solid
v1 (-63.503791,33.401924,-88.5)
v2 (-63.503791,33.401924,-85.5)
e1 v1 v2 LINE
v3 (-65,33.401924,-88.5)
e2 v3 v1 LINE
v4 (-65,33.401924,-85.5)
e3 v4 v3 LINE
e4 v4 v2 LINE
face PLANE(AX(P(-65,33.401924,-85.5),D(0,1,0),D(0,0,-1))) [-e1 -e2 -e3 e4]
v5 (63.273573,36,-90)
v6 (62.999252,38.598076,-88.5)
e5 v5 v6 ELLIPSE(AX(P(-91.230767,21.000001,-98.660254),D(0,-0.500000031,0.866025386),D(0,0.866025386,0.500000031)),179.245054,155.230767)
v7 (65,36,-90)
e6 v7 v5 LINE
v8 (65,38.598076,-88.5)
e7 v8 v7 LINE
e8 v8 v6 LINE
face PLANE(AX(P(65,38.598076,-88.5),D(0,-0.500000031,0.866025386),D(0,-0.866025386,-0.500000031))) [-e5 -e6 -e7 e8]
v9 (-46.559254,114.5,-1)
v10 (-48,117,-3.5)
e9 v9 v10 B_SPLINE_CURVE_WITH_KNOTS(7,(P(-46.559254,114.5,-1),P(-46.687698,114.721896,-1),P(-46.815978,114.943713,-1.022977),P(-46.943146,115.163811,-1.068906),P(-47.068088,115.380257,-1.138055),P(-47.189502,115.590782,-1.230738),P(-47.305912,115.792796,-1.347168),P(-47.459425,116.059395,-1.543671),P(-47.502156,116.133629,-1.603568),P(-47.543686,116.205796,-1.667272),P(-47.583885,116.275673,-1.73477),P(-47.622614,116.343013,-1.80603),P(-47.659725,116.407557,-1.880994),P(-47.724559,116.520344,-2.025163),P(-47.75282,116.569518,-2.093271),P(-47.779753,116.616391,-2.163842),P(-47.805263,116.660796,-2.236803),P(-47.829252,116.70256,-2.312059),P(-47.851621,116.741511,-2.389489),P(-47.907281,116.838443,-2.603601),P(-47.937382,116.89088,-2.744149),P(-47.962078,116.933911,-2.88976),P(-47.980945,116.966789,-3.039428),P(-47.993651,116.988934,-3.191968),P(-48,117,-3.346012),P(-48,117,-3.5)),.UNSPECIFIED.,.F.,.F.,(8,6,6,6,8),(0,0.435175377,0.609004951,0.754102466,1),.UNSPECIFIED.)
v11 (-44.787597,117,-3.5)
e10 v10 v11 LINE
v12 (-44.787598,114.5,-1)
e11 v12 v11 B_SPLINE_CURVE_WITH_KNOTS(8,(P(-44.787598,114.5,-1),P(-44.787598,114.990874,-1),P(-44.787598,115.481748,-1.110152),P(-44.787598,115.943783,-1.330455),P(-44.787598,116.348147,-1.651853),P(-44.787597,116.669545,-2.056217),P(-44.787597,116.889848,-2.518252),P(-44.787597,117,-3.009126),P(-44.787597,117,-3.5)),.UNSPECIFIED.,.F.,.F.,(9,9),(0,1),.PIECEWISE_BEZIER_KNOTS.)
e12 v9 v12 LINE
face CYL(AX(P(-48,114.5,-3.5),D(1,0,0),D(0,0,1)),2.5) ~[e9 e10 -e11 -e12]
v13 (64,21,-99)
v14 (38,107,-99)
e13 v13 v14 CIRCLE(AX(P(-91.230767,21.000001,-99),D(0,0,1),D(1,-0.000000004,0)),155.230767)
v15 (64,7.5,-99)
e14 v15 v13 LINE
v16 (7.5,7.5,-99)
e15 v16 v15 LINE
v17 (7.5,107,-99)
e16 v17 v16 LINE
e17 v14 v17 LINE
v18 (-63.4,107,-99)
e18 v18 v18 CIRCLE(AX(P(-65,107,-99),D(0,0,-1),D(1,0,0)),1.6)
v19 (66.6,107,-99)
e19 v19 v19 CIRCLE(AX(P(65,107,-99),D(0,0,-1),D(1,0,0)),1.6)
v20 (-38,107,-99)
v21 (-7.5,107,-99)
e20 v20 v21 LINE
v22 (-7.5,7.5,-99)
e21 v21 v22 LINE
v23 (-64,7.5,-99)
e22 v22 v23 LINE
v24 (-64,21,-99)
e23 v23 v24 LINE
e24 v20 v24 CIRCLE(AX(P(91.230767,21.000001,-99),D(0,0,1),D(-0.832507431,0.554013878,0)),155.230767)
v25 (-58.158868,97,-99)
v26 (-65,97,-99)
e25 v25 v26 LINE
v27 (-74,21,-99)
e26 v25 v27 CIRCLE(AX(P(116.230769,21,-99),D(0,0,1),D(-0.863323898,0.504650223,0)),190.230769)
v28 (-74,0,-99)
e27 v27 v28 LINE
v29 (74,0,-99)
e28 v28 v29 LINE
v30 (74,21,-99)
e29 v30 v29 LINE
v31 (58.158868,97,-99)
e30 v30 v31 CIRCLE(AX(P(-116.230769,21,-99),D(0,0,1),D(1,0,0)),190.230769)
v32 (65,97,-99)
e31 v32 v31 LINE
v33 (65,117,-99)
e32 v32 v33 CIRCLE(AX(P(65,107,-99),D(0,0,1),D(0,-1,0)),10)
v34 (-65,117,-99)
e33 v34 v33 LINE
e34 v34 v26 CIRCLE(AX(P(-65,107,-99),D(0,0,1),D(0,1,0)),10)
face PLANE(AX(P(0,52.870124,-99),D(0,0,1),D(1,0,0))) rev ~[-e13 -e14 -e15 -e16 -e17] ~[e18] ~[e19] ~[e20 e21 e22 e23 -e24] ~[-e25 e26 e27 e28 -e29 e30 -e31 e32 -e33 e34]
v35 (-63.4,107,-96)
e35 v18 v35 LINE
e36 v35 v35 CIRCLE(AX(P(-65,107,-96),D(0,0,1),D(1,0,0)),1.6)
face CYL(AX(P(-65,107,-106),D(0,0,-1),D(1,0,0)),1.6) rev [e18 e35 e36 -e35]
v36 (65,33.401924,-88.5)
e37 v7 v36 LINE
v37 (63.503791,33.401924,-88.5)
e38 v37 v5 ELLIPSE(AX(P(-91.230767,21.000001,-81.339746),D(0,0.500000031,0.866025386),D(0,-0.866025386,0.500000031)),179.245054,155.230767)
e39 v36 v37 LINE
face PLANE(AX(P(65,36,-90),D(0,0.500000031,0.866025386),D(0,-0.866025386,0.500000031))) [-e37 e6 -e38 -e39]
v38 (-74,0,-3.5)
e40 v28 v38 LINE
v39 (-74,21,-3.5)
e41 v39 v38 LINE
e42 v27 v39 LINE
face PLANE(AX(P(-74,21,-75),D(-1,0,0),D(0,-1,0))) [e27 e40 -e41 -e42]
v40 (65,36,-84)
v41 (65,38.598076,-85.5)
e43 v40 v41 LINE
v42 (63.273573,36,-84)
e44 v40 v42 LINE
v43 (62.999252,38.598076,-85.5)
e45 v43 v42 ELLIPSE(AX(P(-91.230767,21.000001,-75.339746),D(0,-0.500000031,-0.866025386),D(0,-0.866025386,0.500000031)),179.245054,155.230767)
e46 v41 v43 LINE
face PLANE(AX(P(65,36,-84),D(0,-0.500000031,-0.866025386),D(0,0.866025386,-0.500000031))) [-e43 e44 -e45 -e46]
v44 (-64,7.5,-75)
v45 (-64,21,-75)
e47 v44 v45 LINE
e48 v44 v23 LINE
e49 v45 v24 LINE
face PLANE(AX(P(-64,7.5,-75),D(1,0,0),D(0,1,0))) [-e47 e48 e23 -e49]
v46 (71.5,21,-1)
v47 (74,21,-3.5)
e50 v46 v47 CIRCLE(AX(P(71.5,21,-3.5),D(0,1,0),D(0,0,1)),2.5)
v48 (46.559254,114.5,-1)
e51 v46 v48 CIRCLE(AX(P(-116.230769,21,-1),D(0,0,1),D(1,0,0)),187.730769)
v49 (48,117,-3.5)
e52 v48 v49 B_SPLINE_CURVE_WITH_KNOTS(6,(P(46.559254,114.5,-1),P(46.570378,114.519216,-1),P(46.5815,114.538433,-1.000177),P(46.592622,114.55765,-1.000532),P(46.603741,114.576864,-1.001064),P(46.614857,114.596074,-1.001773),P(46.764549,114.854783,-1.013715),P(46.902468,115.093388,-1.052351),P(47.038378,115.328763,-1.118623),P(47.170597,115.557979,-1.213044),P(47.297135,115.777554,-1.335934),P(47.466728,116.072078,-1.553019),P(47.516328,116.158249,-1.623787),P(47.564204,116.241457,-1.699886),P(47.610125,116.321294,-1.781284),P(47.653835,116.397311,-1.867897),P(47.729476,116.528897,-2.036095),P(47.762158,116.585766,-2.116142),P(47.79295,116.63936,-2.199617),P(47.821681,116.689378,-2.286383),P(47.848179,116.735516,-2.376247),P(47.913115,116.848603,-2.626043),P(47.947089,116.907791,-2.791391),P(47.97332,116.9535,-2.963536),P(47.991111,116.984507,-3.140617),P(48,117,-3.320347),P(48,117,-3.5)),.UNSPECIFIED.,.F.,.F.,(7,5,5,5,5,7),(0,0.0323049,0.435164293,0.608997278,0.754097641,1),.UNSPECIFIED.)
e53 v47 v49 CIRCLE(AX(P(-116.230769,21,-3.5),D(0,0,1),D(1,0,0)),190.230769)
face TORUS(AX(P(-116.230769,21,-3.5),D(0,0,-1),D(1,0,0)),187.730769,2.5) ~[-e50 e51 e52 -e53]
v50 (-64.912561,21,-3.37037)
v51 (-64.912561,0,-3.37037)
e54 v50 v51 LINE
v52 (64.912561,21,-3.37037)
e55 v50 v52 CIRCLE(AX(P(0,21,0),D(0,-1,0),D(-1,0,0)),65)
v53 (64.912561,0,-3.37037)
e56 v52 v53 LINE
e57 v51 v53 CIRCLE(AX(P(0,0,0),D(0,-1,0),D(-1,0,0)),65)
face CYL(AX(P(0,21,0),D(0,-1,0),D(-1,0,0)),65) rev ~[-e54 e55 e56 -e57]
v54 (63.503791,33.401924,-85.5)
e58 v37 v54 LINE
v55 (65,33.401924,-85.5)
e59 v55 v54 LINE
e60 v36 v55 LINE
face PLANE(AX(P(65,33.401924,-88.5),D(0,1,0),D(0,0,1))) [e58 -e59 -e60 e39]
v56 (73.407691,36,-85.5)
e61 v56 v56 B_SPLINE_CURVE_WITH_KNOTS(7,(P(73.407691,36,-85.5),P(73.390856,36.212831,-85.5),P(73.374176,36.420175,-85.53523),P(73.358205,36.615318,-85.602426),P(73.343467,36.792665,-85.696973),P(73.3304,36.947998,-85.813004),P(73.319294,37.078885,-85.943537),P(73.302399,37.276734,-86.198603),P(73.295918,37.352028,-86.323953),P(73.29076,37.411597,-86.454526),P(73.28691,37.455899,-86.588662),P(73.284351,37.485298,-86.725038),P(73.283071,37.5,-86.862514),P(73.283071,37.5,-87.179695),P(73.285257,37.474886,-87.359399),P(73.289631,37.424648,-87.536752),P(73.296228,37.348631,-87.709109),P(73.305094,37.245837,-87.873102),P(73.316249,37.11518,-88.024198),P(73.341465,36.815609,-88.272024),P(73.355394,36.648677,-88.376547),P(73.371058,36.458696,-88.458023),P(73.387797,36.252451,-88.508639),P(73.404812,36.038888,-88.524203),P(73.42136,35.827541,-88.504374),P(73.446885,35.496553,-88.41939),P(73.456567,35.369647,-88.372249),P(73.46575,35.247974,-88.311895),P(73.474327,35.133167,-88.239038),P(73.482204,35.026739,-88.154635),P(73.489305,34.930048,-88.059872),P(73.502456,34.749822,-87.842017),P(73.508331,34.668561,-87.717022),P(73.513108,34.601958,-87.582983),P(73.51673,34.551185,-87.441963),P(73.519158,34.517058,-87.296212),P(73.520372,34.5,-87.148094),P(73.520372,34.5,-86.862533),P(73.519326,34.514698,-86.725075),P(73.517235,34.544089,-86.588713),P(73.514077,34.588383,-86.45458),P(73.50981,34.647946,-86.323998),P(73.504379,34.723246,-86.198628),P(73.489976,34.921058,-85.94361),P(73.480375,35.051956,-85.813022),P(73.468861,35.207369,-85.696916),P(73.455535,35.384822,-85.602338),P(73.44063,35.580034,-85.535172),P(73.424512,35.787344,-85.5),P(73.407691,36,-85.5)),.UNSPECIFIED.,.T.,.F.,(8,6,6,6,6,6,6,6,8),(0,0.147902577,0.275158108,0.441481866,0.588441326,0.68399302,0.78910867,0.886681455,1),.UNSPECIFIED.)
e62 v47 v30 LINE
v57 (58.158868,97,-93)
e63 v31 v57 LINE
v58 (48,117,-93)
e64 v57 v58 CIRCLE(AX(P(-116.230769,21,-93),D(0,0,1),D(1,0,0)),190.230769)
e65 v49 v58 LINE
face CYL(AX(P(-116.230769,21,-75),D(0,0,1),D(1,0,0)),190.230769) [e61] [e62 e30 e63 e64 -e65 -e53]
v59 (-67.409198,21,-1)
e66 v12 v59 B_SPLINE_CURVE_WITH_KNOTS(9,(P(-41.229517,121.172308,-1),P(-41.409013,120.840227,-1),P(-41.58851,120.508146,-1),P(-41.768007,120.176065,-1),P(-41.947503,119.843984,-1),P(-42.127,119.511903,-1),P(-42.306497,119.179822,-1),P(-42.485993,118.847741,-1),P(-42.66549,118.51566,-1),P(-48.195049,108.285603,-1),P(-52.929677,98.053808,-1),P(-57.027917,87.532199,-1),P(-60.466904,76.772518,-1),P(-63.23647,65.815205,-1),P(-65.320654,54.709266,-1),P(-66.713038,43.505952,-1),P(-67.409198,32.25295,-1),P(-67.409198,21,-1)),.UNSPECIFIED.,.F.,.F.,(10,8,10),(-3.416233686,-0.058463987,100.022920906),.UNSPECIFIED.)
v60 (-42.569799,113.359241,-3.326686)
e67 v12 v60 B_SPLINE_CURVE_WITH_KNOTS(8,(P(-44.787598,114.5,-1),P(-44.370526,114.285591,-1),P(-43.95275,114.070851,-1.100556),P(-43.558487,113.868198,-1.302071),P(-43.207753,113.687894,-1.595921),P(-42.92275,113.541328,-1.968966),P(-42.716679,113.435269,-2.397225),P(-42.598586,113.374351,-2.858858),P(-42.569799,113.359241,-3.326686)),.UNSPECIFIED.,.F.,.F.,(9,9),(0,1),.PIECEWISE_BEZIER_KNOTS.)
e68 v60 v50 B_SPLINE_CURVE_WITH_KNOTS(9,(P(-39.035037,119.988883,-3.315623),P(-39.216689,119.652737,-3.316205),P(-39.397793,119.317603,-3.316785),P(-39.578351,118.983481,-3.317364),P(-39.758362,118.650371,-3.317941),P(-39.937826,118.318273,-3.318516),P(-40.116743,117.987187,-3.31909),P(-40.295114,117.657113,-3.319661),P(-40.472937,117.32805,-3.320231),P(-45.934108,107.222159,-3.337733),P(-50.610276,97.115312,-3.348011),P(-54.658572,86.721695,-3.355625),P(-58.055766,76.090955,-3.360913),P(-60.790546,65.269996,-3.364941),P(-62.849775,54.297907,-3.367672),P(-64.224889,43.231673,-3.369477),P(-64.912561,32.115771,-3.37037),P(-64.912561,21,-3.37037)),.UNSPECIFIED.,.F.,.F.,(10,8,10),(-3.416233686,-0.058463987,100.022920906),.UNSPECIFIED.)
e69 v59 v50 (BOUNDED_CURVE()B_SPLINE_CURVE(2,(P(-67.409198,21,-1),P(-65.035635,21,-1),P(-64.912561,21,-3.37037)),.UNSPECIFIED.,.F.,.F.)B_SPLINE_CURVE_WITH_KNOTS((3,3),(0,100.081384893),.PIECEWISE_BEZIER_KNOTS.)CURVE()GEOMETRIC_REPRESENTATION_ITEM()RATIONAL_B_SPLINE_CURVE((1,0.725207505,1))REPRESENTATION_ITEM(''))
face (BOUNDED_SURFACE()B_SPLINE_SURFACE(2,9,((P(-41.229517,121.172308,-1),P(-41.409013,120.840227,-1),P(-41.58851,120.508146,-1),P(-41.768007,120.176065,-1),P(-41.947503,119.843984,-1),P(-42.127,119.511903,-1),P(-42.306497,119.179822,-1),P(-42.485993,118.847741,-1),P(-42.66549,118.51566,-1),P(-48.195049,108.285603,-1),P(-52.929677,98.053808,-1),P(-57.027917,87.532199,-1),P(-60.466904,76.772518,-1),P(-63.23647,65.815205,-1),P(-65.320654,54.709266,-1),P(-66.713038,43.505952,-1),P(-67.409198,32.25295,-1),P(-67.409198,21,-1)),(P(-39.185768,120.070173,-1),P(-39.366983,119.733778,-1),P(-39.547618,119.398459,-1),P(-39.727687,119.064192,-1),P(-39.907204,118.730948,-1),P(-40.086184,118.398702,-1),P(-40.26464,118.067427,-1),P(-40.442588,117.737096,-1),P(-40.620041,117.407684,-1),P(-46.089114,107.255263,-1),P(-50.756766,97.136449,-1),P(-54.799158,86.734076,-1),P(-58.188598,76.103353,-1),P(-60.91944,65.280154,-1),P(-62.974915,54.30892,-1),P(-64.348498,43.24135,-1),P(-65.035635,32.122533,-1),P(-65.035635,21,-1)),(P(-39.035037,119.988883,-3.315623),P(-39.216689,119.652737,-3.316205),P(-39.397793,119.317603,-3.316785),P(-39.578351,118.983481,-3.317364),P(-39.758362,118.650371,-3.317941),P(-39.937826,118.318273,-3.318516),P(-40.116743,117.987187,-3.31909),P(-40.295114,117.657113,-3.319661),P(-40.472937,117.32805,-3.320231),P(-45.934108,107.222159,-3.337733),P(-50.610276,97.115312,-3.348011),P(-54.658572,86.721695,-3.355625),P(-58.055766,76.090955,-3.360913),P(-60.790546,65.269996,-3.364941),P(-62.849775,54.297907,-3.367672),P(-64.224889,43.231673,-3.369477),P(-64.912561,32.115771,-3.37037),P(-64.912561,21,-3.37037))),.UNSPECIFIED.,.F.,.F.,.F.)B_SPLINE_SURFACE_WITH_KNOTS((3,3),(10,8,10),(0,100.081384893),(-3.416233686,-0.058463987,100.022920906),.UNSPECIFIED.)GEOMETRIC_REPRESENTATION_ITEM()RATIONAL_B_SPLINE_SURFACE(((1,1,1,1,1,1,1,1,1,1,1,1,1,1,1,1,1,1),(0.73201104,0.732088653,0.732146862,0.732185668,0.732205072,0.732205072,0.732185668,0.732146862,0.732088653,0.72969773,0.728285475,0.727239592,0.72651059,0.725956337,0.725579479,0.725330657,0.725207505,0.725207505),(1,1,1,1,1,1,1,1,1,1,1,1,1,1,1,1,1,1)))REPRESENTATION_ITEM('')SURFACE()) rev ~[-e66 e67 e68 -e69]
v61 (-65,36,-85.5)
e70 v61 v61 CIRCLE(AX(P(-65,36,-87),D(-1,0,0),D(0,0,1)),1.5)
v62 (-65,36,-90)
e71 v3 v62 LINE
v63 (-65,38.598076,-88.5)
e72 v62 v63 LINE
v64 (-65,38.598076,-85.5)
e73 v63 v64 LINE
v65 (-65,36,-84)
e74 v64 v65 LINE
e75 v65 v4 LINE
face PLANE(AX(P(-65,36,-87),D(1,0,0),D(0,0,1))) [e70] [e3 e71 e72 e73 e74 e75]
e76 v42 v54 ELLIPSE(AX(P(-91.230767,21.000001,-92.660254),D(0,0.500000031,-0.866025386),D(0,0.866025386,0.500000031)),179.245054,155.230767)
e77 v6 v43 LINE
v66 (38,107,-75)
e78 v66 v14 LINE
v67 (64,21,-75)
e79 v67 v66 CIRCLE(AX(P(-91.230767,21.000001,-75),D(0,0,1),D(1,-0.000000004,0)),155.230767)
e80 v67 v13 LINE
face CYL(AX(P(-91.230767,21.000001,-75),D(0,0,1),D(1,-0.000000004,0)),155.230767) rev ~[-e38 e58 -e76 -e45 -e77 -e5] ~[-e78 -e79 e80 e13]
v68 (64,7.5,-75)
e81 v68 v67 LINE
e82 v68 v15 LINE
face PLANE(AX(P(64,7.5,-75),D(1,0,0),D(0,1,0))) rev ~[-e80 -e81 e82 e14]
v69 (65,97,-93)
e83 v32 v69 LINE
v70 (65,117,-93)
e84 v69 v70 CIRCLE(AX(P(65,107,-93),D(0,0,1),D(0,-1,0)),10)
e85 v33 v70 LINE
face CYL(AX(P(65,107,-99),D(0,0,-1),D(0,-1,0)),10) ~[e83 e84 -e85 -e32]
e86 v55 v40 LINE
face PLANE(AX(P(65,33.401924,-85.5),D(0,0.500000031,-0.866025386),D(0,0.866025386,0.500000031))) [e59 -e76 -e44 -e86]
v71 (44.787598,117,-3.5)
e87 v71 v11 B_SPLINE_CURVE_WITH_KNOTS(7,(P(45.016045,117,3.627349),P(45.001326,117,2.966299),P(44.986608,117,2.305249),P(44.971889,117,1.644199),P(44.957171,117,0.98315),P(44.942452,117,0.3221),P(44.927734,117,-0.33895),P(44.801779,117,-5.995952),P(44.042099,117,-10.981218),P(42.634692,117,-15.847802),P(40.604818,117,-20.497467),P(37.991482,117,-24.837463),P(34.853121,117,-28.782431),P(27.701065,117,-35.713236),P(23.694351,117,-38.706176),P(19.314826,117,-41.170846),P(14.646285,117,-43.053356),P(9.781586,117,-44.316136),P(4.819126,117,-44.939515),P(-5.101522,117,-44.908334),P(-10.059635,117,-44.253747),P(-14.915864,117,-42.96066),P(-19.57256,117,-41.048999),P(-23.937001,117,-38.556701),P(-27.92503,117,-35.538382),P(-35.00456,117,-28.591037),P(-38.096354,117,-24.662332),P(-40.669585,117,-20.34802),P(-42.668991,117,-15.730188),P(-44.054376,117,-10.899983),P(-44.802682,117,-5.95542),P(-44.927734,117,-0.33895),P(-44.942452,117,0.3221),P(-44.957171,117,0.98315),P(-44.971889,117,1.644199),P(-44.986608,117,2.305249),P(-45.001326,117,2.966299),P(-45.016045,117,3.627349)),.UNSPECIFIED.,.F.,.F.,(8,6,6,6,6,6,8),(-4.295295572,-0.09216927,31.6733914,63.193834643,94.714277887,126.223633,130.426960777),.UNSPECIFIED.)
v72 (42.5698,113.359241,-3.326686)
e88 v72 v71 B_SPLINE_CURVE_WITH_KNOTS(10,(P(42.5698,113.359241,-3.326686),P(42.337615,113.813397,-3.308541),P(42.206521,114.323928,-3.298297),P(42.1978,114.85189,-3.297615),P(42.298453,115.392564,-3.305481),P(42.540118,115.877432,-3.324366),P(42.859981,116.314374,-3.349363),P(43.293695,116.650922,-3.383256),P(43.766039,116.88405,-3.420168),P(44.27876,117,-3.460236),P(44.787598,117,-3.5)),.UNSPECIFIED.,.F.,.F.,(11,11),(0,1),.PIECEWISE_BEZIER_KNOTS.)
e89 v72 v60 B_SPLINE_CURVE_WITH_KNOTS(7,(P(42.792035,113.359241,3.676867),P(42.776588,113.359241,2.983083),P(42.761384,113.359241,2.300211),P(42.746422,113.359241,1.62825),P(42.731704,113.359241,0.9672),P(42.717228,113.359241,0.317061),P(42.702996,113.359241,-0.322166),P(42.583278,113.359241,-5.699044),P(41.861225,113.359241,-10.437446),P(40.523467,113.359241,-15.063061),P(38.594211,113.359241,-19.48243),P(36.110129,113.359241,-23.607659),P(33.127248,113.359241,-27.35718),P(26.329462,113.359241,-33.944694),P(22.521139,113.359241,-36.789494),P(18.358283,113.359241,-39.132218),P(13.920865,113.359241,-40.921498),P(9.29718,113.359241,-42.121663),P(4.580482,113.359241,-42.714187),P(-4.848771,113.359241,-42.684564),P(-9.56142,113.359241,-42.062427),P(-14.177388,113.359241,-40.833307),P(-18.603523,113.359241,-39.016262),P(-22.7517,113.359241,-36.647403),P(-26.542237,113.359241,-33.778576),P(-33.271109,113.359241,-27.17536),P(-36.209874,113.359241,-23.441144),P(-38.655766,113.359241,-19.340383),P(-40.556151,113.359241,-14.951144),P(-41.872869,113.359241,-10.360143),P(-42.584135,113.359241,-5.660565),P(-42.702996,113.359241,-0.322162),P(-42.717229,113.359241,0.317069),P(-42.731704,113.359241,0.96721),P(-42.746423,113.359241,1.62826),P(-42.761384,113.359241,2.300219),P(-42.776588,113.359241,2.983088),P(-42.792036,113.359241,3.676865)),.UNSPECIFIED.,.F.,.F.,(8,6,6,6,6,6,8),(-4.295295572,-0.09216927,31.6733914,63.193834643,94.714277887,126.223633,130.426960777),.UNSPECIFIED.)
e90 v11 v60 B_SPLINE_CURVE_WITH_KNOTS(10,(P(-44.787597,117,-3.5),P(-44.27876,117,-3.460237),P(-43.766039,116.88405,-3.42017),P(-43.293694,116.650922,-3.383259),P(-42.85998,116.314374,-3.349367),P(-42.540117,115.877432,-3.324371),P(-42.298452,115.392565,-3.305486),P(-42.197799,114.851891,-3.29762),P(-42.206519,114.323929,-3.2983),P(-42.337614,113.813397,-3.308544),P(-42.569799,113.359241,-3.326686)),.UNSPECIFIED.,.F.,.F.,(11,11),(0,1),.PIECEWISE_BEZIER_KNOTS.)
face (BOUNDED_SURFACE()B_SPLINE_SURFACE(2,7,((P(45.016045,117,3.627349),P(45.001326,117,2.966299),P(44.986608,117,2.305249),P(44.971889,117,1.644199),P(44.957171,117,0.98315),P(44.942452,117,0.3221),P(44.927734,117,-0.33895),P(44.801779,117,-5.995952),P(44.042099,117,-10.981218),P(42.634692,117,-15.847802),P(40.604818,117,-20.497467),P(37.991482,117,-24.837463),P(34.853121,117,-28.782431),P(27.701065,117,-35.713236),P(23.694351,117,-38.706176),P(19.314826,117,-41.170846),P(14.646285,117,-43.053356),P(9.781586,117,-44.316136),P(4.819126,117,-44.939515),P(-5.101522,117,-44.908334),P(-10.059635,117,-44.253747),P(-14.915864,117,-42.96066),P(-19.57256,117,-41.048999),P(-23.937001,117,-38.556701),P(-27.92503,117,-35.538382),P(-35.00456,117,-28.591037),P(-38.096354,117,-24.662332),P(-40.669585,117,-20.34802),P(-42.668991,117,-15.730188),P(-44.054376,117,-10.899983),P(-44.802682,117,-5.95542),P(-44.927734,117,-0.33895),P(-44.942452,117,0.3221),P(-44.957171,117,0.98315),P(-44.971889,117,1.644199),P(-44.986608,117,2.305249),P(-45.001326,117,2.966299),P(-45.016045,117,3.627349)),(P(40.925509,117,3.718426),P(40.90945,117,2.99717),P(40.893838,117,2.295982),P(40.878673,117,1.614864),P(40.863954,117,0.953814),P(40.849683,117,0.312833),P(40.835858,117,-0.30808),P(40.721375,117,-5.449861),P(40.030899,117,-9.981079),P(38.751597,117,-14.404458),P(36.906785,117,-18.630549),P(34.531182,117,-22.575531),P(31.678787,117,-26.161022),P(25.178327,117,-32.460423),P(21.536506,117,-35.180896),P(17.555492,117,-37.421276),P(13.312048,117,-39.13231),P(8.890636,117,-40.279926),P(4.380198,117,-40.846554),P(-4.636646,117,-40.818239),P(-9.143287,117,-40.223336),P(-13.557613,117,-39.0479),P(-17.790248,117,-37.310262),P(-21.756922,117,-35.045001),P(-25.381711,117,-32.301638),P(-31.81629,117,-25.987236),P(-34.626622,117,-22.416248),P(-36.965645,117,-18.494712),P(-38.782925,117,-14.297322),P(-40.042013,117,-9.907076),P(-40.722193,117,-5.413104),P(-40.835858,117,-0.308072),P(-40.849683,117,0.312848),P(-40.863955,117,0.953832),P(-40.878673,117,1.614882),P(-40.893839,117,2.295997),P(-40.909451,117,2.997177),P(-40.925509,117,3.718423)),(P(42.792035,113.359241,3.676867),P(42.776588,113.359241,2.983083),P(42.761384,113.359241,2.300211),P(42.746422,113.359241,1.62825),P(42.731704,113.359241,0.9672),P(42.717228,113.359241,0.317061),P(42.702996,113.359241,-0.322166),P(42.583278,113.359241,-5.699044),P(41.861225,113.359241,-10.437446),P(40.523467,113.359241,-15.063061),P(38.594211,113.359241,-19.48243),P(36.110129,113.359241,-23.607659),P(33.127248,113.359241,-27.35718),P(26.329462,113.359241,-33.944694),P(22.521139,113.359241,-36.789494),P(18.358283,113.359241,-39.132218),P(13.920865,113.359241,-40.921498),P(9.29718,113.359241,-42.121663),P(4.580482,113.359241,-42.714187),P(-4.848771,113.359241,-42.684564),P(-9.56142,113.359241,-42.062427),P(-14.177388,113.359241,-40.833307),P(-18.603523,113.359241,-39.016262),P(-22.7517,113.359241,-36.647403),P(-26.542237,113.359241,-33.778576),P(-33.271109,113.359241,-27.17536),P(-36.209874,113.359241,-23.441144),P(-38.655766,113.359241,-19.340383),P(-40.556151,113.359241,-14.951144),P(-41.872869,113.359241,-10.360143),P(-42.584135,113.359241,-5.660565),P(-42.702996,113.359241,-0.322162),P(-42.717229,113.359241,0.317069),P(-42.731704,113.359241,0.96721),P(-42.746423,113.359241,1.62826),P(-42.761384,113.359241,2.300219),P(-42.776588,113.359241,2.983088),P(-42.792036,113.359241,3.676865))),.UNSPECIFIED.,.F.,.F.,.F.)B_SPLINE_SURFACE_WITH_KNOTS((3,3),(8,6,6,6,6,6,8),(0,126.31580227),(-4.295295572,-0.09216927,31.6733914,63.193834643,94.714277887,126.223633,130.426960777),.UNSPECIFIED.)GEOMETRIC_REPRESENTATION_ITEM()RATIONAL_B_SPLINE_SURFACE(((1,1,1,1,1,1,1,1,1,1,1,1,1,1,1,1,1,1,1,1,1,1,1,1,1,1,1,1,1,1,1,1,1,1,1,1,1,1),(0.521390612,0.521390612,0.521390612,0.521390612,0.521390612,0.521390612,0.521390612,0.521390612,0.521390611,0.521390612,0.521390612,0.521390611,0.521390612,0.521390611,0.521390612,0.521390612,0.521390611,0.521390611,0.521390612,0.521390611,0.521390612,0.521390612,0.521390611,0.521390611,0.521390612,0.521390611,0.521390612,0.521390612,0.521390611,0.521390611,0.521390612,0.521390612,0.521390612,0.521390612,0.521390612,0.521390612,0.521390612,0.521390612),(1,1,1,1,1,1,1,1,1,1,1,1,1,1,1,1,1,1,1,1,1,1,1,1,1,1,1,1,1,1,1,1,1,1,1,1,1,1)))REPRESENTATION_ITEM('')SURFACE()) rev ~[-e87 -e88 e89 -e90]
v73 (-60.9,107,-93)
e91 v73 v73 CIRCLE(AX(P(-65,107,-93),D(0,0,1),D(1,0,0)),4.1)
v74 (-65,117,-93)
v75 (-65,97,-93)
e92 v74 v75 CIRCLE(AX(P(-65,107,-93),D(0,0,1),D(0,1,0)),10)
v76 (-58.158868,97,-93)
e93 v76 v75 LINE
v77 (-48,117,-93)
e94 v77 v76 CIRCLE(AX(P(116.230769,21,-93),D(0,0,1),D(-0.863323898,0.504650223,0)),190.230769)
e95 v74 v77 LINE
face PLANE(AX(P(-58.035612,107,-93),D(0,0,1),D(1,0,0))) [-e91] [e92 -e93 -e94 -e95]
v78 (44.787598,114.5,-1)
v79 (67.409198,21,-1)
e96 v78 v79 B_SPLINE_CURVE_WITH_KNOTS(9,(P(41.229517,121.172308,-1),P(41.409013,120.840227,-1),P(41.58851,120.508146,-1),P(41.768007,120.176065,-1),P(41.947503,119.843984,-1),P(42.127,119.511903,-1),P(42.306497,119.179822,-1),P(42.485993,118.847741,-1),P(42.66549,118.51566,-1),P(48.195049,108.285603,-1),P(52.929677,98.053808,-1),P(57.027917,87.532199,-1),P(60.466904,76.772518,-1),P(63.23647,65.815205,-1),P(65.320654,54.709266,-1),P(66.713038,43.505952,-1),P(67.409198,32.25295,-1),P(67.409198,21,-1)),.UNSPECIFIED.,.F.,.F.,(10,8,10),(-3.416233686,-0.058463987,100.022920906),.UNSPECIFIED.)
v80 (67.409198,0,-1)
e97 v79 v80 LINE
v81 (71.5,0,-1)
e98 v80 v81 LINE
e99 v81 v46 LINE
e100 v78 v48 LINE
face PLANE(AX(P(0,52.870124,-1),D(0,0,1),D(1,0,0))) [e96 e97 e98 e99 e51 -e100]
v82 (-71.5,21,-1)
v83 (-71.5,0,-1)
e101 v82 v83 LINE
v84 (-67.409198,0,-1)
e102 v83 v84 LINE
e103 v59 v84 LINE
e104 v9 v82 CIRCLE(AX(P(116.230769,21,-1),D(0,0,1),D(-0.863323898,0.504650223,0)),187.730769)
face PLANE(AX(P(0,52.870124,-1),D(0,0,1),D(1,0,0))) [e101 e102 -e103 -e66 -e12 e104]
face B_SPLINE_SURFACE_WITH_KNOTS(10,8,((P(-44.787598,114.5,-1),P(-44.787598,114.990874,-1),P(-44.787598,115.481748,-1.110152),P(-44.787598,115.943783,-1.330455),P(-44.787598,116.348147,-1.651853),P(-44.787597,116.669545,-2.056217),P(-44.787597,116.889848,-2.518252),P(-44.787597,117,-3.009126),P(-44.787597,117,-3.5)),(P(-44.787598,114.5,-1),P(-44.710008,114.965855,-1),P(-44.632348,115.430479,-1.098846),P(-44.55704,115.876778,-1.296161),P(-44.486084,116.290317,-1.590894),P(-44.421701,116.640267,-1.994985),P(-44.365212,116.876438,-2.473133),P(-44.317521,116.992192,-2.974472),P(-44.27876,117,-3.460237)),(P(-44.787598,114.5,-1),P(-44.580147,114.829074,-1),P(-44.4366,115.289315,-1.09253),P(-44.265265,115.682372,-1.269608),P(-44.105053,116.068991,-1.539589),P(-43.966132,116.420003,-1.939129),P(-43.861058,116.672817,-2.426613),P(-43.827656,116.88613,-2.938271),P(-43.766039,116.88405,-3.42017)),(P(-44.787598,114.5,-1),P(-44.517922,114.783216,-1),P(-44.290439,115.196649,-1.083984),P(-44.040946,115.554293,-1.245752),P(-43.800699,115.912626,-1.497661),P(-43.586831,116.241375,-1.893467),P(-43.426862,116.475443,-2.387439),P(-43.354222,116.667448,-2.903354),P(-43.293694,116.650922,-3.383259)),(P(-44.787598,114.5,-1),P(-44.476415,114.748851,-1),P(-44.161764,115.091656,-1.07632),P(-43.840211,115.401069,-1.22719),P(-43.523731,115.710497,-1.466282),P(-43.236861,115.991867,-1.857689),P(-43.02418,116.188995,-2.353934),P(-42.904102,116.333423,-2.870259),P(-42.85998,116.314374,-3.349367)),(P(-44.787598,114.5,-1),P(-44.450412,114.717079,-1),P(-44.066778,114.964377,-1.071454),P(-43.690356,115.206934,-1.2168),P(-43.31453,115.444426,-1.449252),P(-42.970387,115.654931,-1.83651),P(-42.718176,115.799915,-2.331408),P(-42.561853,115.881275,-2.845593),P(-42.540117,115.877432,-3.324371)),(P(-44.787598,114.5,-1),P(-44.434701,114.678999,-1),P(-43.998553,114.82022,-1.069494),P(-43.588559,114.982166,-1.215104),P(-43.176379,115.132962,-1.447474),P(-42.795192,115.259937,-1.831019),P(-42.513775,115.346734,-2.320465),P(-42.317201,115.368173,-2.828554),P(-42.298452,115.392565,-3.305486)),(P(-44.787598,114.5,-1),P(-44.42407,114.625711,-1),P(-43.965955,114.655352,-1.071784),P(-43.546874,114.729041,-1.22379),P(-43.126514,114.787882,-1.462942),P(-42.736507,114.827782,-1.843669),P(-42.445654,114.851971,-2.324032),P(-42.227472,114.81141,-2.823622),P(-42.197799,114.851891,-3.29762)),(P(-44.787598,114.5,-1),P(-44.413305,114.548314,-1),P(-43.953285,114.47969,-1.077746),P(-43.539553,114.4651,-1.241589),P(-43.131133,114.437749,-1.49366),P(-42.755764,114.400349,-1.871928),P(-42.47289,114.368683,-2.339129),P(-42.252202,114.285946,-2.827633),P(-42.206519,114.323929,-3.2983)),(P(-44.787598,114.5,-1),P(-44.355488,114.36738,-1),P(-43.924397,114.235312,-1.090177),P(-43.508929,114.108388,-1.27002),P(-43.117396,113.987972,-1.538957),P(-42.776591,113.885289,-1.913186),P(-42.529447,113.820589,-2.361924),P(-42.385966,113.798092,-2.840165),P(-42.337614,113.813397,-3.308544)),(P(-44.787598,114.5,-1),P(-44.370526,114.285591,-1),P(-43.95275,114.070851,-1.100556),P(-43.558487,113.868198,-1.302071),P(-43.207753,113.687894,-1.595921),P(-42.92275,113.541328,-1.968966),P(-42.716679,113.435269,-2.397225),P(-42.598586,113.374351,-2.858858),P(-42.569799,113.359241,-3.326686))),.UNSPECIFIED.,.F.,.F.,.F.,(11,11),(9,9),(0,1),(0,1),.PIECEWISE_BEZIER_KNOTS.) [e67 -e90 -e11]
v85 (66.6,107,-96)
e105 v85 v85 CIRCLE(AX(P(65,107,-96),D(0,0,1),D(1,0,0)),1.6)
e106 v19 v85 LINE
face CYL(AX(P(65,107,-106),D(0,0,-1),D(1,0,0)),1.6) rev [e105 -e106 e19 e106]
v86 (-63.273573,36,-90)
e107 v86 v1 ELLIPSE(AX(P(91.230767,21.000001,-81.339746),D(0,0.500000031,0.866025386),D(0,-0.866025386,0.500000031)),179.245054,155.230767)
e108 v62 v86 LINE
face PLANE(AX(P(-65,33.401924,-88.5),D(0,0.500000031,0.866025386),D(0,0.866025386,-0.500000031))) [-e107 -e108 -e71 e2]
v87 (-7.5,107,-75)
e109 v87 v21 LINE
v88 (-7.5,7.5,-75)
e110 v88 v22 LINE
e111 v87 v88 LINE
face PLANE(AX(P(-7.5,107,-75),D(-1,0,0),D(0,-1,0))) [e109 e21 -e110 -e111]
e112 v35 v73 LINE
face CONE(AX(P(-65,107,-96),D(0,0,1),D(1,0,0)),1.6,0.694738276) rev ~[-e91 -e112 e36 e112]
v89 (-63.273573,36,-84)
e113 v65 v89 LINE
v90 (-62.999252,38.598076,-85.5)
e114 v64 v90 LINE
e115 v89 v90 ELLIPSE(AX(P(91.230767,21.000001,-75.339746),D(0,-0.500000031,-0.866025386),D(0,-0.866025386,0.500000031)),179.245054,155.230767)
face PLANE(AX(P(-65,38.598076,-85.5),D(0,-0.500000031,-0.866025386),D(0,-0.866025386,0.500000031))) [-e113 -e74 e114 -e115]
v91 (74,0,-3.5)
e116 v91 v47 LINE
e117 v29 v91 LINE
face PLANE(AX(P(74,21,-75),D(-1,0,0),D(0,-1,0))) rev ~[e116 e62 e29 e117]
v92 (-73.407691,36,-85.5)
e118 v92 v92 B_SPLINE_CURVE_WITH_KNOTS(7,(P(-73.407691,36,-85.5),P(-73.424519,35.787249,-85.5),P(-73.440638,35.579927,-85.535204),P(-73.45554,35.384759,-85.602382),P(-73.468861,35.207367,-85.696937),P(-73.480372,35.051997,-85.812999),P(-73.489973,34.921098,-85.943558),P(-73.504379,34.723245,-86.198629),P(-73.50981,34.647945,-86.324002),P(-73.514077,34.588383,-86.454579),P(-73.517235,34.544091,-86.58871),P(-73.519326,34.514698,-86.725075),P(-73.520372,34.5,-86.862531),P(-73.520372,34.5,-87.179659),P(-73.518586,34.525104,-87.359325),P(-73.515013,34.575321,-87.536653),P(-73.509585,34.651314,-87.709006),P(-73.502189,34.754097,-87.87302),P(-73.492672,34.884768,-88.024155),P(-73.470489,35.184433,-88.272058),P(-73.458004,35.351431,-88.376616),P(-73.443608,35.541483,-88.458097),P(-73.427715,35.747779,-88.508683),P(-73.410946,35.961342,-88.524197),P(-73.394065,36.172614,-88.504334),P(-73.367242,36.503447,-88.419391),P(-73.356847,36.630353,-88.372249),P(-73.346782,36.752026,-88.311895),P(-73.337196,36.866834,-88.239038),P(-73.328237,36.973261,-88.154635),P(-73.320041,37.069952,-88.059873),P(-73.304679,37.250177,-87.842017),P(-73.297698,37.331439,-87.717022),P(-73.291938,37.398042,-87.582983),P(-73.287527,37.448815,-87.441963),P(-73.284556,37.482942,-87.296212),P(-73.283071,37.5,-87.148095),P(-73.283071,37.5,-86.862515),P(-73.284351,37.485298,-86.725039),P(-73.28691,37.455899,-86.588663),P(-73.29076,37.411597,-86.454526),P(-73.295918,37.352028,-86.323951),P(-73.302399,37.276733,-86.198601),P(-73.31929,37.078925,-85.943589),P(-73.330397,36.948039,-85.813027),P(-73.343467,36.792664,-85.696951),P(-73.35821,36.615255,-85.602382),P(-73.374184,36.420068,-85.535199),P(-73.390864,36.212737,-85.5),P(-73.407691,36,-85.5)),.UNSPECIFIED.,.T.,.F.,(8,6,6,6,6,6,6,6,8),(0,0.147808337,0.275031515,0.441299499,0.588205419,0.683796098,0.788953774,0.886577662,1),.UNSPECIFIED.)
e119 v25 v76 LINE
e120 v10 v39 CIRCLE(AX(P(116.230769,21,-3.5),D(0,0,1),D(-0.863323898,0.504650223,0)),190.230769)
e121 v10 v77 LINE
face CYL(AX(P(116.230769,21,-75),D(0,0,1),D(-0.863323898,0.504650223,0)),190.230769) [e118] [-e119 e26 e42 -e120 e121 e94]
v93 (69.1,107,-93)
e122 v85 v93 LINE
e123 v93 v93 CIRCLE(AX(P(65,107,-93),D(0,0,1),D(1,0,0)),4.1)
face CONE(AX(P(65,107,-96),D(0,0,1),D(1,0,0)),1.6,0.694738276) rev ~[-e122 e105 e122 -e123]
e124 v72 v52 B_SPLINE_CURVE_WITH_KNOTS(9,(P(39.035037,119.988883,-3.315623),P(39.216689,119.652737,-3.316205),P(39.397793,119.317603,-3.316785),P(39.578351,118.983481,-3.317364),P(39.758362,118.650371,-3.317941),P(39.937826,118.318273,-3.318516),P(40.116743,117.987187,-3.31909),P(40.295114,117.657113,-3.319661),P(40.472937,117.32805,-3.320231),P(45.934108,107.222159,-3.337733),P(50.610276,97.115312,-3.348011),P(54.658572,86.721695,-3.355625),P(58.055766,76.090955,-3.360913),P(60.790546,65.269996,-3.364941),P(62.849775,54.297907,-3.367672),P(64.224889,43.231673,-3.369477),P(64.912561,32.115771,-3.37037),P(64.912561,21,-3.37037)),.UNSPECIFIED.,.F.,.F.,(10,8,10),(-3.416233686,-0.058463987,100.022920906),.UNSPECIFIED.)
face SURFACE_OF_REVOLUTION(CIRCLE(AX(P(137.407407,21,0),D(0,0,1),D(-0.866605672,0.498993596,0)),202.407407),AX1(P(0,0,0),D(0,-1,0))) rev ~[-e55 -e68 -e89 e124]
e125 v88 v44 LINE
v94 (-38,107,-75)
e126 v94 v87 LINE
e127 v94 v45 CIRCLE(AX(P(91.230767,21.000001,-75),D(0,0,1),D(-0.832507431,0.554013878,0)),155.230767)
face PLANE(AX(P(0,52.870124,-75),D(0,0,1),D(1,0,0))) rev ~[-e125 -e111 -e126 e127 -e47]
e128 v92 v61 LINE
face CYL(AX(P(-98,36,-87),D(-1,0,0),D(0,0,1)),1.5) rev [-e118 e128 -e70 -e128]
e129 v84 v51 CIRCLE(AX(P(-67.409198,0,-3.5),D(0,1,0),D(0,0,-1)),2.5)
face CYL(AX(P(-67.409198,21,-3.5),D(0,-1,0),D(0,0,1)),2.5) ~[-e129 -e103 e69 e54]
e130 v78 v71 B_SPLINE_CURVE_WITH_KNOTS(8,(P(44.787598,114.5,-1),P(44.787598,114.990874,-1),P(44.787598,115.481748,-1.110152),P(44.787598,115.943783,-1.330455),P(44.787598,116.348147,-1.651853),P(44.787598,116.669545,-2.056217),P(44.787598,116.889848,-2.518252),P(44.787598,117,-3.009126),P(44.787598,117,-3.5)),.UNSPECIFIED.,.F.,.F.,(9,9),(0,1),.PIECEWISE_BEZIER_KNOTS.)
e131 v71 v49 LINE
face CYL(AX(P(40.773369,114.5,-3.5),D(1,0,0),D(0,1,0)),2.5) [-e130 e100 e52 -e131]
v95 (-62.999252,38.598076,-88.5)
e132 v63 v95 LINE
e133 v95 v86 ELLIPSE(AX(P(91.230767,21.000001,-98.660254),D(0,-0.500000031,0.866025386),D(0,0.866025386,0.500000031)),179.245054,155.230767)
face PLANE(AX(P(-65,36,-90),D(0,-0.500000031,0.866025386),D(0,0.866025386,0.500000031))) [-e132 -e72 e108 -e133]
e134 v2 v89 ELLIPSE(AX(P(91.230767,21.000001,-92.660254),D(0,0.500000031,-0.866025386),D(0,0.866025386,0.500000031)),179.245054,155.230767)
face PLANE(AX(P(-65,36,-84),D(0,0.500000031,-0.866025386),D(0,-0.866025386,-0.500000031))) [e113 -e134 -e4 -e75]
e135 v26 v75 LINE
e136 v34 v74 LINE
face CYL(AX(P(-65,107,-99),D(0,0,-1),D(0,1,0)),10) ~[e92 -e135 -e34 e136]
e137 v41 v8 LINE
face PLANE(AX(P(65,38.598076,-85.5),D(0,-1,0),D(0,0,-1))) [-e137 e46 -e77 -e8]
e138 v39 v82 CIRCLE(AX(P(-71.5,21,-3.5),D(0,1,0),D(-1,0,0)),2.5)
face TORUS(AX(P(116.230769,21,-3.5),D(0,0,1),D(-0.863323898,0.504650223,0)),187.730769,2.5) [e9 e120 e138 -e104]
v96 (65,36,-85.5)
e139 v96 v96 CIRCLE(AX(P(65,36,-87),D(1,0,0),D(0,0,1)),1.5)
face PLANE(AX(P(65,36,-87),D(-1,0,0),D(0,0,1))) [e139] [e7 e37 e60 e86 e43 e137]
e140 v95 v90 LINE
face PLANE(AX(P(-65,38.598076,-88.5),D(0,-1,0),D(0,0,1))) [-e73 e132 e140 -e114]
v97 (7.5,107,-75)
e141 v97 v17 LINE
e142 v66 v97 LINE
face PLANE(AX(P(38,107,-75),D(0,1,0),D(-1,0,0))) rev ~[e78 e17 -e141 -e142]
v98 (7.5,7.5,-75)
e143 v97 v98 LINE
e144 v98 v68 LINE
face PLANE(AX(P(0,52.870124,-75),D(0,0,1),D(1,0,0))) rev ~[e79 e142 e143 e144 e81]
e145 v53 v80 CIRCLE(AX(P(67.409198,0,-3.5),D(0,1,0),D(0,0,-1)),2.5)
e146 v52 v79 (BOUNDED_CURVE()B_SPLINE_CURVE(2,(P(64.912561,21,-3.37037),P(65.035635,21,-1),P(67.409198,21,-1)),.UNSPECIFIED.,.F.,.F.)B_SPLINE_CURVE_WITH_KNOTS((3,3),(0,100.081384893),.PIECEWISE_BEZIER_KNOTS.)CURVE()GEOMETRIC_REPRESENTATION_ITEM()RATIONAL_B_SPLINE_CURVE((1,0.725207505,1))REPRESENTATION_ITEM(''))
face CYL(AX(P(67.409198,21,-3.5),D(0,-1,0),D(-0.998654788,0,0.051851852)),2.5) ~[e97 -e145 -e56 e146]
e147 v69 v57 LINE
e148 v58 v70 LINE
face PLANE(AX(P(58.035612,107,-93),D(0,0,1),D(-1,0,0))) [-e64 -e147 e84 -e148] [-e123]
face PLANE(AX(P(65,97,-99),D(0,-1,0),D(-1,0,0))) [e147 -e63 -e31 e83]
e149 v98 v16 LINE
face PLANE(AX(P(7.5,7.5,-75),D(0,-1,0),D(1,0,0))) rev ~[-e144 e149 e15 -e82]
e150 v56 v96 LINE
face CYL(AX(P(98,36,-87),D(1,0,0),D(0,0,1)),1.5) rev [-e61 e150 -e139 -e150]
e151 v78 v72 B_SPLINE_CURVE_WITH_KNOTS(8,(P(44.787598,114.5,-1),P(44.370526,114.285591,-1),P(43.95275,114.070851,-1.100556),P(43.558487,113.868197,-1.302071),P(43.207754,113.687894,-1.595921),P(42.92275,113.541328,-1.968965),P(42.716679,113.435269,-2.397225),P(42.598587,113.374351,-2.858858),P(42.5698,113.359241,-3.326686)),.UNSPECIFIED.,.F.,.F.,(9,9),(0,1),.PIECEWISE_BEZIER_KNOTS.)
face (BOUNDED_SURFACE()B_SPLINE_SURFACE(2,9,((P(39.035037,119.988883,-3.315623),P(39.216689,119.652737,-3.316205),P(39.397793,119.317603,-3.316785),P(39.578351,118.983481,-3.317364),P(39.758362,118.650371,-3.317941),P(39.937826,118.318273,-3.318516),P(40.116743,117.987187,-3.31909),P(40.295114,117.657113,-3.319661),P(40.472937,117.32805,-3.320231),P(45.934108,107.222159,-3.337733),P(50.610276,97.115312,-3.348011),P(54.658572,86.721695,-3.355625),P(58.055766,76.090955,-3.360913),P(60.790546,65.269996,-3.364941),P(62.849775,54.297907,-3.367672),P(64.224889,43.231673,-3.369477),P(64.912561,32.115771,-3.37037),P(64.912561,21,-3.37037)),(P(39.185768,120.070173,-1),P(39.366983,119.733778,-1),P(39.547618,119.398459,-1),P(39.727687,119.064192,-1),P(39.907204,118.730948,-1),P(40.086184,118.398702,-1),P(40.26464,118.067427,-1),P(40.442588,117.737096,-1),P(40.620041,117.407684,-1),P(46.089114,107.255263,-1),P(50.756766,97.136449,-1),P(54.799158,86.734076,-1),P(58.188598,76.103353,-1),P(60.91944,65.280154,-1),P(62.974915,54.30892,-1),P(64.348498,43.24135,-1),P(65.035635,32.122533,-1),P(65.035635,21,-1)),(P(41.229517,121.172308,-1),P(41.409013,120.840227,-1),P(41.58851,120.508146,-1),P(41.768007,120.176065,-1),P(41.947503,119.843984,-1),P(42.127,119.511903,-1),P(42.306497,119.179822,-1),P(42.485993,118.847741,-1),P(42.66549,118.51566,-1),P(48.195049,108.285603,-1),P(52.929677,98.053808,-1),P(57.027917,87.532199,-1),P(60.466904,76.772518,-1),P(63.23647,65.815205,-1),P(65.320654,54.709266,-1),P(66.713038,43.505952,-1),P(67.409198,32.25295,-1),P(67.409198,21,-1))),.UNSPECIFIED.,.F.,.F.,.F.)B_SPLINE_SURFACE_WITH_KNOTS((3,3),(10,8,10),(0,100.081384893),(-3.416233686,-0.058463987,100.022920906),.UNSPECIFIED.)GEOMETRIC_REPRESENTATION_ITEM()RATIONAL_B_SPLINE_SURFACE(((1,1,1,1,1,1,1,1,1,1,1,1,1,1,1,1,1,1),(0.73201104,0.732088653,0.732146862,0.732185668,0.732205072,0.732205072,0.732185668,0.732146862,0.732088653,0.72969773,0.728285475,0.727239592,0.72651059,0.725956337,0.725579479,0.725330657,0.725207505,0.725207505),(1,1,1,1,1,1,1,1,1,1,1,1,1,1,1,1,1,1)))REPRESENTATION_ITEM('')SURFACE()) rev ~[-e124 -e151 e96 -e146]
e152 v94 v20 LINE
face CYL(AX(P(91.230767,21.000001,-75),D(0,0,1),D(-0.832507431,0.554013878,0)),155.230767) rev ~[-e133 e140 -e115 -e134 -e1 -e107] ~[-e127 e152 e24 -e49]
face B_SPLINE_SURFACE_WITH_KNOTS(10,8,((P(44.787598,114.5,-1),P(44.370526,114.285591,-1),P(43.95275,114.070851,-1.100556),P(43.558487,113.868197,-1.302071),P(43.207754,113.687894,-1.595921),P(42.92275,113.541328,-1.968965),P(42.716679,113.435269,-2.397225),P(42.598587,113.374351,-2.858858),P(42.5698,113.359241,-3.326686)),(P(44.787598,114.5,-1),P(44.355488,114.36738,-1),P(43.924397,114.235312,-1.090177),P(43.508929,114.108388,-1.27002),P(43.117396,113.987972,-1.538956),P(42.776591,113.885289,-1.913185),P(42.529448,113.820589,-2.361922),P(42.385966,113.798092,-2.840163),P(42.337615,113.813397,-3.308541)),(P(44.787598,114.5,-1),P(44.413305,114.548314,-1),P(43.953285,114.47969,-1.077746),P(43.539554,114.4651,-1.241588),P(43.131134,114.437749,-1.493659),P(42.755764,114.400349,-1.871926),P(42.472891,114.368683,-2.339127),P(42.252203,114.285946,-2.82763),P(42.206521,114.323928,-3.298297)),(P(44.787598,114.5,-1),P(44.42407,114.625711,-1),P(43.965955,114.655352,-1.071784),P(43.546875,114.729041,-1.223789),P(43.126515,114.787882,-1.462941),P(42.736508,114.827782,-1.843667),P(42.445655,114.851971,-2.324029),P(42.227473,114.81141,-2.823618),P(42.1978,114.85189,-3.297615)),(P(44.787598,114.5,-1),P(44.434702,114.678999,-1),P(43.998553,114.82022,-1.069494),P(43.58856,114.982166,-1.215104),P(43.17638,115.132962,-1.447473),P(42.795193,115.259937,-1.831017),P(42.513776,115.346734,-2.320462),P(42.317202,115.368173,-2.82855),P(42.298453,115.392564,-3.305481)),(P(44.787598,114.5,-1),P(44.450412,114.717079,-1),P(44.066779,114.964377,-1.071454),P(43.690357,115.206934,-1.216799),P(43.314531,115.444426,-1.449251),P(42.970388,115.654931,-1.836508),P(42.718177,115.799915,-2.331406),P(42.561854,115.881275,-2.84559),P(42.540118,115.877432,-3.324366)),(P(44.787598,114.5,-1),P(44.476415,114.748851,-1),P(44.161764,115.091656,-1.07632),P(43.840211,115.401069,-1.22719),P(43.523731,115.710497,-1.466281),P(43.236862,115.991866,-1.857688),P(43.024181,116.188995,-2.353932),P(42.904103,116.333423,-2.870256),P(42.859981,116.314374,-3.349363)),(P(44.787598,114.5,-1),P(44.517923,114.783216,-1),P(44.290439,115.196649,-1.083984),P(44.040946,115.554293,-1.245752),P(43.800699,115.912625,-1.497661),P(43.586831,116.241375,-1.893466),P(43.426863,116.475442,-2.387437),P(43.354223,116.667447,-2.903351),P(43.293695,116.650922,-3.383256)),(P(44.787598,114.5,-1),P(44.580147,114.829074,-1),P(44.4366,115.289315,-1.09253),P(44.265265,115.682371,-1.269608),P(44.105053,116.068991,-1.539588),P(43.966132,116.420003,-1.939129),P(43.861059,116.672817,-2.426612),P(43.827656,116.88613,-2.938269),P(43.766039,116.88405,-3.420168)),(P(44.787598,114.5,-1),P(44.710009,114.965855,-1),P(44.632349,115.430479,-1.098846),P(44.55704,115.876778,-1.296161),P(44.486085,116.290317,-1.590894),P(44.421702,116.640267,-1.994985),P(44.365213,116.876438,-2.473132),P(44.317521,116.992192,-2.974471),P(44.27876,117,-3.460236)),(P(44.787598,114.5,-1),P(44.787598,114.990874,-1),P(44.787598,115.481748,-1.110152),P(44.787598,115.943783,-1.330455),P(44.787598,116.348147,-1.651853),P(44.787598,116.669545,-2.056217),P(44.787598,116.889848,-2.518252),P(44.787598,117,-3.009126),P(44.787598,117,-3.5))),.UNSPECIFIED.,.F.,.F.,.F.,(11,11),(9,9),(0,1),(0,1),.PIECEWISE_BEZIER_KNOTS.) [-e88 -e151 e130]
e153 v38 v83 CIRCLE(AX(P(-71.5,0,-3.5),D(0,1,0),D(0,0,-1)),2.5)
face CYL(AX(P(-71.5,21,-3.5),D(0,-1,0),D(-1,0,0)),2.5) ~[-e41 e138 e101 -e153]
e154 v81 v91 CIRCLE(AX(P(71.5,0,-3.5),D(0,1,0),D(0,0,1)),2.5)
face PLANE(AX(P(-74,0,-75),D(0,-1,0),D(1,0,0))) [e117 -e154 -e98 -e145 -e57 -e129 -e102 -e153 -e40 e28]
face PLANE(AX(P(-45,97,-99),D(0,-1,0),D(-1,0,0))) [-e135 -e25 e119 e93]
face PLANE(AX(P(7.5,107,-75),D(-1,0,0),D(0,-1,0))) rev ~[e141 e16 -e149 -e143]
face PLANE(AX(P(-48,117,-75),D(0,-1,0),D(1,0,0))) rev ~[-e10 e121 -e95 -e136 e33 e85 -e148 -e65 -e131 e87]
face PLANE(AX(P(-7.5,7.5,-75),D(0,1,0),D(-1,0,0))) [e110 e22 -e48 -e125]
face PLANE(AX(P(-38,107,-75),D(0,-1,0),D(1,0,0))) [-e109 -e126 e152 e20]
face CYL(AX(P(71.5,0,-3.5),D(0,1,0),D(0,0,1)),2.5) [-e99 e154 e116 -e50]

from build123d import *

# Parameters (mm, degrees)
CYLINDER063_R              = 1.6
CYLINDER063_DEPTH          = 10
EXTRUDE027_DEPTH           = 6
EXTRUDE030_DEPTH           = 6
EXTRUDE030_PLACEMENT_ANGLE = 180
CYLINDER072_R              = 1.5
CYLINDER072_DEPTH          = 45
PRISM011_DEPTH             = 3
CYLINDER071_R              = 3
CYLINDER071_DEPTH          = 5
FUSION063_PLACEMENT_ANGLE  = 180
CYLINDER070_R              = 1.5
CYLINDER070_DEPTH          = 45
PRISM010_DEPTH             = 3
CYLINDER068_R              = 3
CYLINDER068_DEPTH          = 5
EXTRUDE026_DEPTH           = 24
REVOLVE001_ANGLE           = 180
EXTRUDE025_DEPTH           = 74
FILLET004_R                = 2.5


with BuildPart() as cono003:
    # Cone003 → Cone003 (revolve)
    with BuildSketch(Plane(origin=(0, 0, -96), x_dir=(1, 0, 0), z_dir=(0, -1, 0))):
        Polygon((0, 0), (1.6, 0), (4.1, 3), (0, 3), align=None)
    revolve(axis=Axis((0, 0, -96), (0, 0, 1)))


with BuildPart() as cilindro063:
    # Cylinder063 → Cylinder063 (new body)
    with BuildSketch(Plane.XY.offset(-106)):
        Circle(CYLINDER063_R)
    extrude(amount=CYLINDER063_DEPTH)


with BuildPart() as fusion058:
    # Fusion058 base: copy of Cilindro063
    add(cilindro063.part)

    # Fusion058: union Cono003
    add(cono003.part)


with BuildPart() as fusion058_1:
    # Fusion058 placement: moved
    add(fusion058.part.moved(Location((65, 107, 0))))


with BuildPart() as fusion059:
    # Fusion057 base: copy of Cilindro063
    add(cilindro063.part)

    # Fusion057: union Cono003
    add(cono003.part)


with BuildPart() as fusion059_1:
    # Fusion057 placement: moved
    add(fusion059.part.moved(Location((-65, 107, 0))))

    # Fusion059: union Fusion058
    add(fusion058_1.part)


with BuildPart() as extrude027:
    # Sketch020 → Extrude027 (new body)
    with BuildSketch(Plane.XY.offset(-99)):
        with BuildLine():
            ThreePointArc((0, 10), (-10, 0), (0, -10))
            Line((20, -10), (0, -10))
            Line((20, 10), (20, -10))
            Line((0, 10), (20, 10))
        make_face()
    extrude(amount=EXTRUDE027_DEPTH)


with BuildPart() as extrude027_1:
    # Extrude027 placement: moved
    add(extrude027.part.moved(Location((-65, 107, 0))))


with BuildPart() as cut022:
    # Sketch020 → Extrude030 (new body)
    with BuildSketch(Plane.XY.offset(-99)):
        with BuildLine():
            ThreePointArc((0, 10), (-10, 0), (0, -10))
            Line((20, -10), (0, -10))
            Line((20, 10), (20, -10))
            Line((0, 10), (20, 10))
        make_face()
    extrude(amount=EXTRUDE030_DEPTH)


with BuildPart() as cut022_1:
    # Extrude030 placement: moved
    add(cut022.part.moved(Location((65, 107, 0))).rotate(Axis((65, 107, 0), (0, 0, 1)), EXTRUDE030_PLACEMENT_ANGLE))

    # Fusion055: union Extrude027
    add(extrude027_1.part)

    # Cut022: cut Fusion059
    add(fusion059_1.part, mode=Mode.SUBTRACT)


with BuildPart() as cilindro072:
    # Cylinder072 → Cylinder072 (new body)
    with BuildSketch(Plane(origin=(33, 0, -87), x_dir=(0, 0, 1), z_dir=(-1, 0, 0))):
        Circle(CYLINDER072_R)
    extrude(amount=CYLINDER072_DEPTH)


with BuildPart() as prisma011:
    # Prism011 → Prism011 (new body)
    with BuildSketch(Plane(origin=(0, 0, -87), x_dir=(0, 0, 1), z_dir=(-1, 0, 0))):
        Polygon((3, 0), (1.5, 2.598076), (-1.5, 2.598076), (-3, 0), (-1.5, -2.598076), (1.5, -2.598076), align=None)
    extrude(amount=PRISM011_DEPTH)


with BuildPart() as fusion063:
    # Cylinder071 → Cylinder071 (new body)
    with BuildSketch(Plane(origin=(24, 0, -87), x_dir=(0, 0, 1), z_dir=(-1, 0, 0))):
        Circle(CYLINDER071_R)
    extrude(amount=CYLINDER071_DEPTH)

    # Fusion063: union Cilindro072, Prisma011
    add(cilindro072.part)
    add(prisma011.part)


with BuildPart() as fusion063_1:
    # Fusion063 placement: moved
    add(fusion063.part.moved(Location((-65, 36, 0))).rotate(Axis((-65, 36, 0), (0, 0, 1)), FUSION063_PLACEMENT_ANGLE))


with BuildPart() as cilindro070:
    # Cylinder070 → Cylinder070 (new body)
    with BuildSketch(Plane(origin=(98, 36, -87), x_dir=(0, 0, 1), z_dir=(-1, 0, 0))):
        Circle(CYLINDER070_R)
    extrude(amount=CYLINDER070_DEPTH)


with BuildPart() as prisma010:
    # Prism010 → Prism010 (new body)
    with BuildSketch(Plane(origin=(65, 36, -87), x_dir=(0, 0, 1), z_dir=(-1, 0, 0))):
        Polygon((3, 0), (1.5, 2.598076), (-1.5, 2.598076), (-3, 0), (-1.5, -2.598076), (1.5, -2.598076), align=None)
    extrude(amount=PRISM010_DEPTH)


with BuildPart() as fusion061:
    # Cylinder068 → Cylinder068 (new body)
    with BuildSketch(Plane(origin=(89, 36, -87), x_dir=(0, 0, 1), z_dir=(-1, 0, 0))):
        Circle(CYLINDER068_R)
    extrude(amount=CYLINDER068_DEPTH)

    # Fusion062: union Cilindro070, Prisma010
    add(cilindro070.part)
    add(prisma010.part)

    # Fusion061: union Fusion063
    add(fusion063_1.part)


with BuildPart() as cut023:
    # Sketch019 → Extrude026 (new body)
    with BuildSketch(Plane.XY.offset(-75)):
        with BuildLine():
            ThreePointArc((-48, 117), (-67.384986, 70.729267), (-74, 21))
            Line((-74, 21), (-74, 0))
            Line((-74, 0), (74, 0))
            Line((74, 21), (74, 0))
            ThreePointArc((74, 21), (67.384986, 70.729267), (48, 117))
            Line((-48, 117), (48, 117))
        make_face()
        with BuildLine():
            Line((-38, 107), (-7.5, 107))
            Line((-7.5, 107), (-7.5, 7.5))
            Line((-7.5, 7.5), (-64, 7.5))
            Line((-64, 7.5), (-64, 21))
            ThreePointArc((-38, 107), (-57.357897, 65.922155), (-64, 21))
        make_face(mode=Mode.SUBTRACT)
        with BuildLine():
            Line((7.5, 107), (7.5, 7.5))
            Line((7.5, 7.5), (64, 7.5))
            Line((64, 7.5), (64, 21))
            ThreePointArc((64, 21), (57.357897, 65.922155), (38, 107))
            Line((38, 107), (7.5, 107))
        make_face(mode=Mode.SUBTRACT)
    extrude(amount=-EXTRUDE026_DEPTH)

    # Cut023: cut Fusion061
    add(fusion061.part, mode=Mode.SUBTRACT)


with BuildPart() as revolve001:
    # Sketch017 → Revolve001 (revolve)
    with BuildSketch(Plane.XY):
        with BuildLine():
            Line((-65, 21), (-65, -21))
            ThreePointArc((-65, -21), (-58.133531, -73.27332), (-38, -122))
            Line((-38, -122), (0, -122))
            Line((0, 122), (0, -122))
            Line((0, 122), (-38, 122))
            ThreePointArc((-38, 122), (-58.133531, 73.27332), (-65, 21))
        make_face()
    revolve(axis=Axis((0, 0, 0), (0, -1, 0)), revolution_arc=REVOLVE001_ANGLE)


with BuildPart() as soporte_balon001:
    # Sketch018 → Extrude025 (new body)
    with BuildSketch(Plane.XY):
        with BuildLine():
            Line((-74, 21), (-74, 0))
            Line((-74, 0), (74, 0))
            Line((74, 21), (74, 0))
            ThreePointArc((74, 21), (67.384986, 70.729267), (48, 117))
            Line((-48, 117), (48, 117))
            ThreePointArc((-48, 117), (-67.384986, 70.729267), (-74, 21))
        make_face()
    extrude(amount=-EXTRUDE025_DEPTH)


with BuildPart() as soporte_balon001_1:
    # Extrude025 placement: moved
    add(soporte_balon001.part.moved(Location((0, 0, -1))))

    # Cut021: cut Revolve001
    add(revolve001.part, mode=Mode.SUBTRACT)

    # Fillet004
    fillet004_edges = [soporte_balon001_1.edges().sort_by_distance(p)[0] for p in [
        (67.384986, 70.729267, -1),
        (74, 10.5, -1),
        (44.386684, 117, -1),
        (0, 117, -40.78563),
        (-44.386684, 117, -1),
        (64.992307, 10.5, -1),
        (58.844411, 70.504014, -1),
        (-58.844411, 70.504014, -1),
        (-64.992307, 10.5, -1),
        (-74, 10.5, -1),
        (-67.384986, 70.729267, -1),
    ]]
    fillet(fillet004_edges, radius=FILLET004_R)

    # Fusion060: union Cut022, Cut023
    add(cut022_1.part)
    add(cut023.part)


solid = soporte_balon001_1.part
